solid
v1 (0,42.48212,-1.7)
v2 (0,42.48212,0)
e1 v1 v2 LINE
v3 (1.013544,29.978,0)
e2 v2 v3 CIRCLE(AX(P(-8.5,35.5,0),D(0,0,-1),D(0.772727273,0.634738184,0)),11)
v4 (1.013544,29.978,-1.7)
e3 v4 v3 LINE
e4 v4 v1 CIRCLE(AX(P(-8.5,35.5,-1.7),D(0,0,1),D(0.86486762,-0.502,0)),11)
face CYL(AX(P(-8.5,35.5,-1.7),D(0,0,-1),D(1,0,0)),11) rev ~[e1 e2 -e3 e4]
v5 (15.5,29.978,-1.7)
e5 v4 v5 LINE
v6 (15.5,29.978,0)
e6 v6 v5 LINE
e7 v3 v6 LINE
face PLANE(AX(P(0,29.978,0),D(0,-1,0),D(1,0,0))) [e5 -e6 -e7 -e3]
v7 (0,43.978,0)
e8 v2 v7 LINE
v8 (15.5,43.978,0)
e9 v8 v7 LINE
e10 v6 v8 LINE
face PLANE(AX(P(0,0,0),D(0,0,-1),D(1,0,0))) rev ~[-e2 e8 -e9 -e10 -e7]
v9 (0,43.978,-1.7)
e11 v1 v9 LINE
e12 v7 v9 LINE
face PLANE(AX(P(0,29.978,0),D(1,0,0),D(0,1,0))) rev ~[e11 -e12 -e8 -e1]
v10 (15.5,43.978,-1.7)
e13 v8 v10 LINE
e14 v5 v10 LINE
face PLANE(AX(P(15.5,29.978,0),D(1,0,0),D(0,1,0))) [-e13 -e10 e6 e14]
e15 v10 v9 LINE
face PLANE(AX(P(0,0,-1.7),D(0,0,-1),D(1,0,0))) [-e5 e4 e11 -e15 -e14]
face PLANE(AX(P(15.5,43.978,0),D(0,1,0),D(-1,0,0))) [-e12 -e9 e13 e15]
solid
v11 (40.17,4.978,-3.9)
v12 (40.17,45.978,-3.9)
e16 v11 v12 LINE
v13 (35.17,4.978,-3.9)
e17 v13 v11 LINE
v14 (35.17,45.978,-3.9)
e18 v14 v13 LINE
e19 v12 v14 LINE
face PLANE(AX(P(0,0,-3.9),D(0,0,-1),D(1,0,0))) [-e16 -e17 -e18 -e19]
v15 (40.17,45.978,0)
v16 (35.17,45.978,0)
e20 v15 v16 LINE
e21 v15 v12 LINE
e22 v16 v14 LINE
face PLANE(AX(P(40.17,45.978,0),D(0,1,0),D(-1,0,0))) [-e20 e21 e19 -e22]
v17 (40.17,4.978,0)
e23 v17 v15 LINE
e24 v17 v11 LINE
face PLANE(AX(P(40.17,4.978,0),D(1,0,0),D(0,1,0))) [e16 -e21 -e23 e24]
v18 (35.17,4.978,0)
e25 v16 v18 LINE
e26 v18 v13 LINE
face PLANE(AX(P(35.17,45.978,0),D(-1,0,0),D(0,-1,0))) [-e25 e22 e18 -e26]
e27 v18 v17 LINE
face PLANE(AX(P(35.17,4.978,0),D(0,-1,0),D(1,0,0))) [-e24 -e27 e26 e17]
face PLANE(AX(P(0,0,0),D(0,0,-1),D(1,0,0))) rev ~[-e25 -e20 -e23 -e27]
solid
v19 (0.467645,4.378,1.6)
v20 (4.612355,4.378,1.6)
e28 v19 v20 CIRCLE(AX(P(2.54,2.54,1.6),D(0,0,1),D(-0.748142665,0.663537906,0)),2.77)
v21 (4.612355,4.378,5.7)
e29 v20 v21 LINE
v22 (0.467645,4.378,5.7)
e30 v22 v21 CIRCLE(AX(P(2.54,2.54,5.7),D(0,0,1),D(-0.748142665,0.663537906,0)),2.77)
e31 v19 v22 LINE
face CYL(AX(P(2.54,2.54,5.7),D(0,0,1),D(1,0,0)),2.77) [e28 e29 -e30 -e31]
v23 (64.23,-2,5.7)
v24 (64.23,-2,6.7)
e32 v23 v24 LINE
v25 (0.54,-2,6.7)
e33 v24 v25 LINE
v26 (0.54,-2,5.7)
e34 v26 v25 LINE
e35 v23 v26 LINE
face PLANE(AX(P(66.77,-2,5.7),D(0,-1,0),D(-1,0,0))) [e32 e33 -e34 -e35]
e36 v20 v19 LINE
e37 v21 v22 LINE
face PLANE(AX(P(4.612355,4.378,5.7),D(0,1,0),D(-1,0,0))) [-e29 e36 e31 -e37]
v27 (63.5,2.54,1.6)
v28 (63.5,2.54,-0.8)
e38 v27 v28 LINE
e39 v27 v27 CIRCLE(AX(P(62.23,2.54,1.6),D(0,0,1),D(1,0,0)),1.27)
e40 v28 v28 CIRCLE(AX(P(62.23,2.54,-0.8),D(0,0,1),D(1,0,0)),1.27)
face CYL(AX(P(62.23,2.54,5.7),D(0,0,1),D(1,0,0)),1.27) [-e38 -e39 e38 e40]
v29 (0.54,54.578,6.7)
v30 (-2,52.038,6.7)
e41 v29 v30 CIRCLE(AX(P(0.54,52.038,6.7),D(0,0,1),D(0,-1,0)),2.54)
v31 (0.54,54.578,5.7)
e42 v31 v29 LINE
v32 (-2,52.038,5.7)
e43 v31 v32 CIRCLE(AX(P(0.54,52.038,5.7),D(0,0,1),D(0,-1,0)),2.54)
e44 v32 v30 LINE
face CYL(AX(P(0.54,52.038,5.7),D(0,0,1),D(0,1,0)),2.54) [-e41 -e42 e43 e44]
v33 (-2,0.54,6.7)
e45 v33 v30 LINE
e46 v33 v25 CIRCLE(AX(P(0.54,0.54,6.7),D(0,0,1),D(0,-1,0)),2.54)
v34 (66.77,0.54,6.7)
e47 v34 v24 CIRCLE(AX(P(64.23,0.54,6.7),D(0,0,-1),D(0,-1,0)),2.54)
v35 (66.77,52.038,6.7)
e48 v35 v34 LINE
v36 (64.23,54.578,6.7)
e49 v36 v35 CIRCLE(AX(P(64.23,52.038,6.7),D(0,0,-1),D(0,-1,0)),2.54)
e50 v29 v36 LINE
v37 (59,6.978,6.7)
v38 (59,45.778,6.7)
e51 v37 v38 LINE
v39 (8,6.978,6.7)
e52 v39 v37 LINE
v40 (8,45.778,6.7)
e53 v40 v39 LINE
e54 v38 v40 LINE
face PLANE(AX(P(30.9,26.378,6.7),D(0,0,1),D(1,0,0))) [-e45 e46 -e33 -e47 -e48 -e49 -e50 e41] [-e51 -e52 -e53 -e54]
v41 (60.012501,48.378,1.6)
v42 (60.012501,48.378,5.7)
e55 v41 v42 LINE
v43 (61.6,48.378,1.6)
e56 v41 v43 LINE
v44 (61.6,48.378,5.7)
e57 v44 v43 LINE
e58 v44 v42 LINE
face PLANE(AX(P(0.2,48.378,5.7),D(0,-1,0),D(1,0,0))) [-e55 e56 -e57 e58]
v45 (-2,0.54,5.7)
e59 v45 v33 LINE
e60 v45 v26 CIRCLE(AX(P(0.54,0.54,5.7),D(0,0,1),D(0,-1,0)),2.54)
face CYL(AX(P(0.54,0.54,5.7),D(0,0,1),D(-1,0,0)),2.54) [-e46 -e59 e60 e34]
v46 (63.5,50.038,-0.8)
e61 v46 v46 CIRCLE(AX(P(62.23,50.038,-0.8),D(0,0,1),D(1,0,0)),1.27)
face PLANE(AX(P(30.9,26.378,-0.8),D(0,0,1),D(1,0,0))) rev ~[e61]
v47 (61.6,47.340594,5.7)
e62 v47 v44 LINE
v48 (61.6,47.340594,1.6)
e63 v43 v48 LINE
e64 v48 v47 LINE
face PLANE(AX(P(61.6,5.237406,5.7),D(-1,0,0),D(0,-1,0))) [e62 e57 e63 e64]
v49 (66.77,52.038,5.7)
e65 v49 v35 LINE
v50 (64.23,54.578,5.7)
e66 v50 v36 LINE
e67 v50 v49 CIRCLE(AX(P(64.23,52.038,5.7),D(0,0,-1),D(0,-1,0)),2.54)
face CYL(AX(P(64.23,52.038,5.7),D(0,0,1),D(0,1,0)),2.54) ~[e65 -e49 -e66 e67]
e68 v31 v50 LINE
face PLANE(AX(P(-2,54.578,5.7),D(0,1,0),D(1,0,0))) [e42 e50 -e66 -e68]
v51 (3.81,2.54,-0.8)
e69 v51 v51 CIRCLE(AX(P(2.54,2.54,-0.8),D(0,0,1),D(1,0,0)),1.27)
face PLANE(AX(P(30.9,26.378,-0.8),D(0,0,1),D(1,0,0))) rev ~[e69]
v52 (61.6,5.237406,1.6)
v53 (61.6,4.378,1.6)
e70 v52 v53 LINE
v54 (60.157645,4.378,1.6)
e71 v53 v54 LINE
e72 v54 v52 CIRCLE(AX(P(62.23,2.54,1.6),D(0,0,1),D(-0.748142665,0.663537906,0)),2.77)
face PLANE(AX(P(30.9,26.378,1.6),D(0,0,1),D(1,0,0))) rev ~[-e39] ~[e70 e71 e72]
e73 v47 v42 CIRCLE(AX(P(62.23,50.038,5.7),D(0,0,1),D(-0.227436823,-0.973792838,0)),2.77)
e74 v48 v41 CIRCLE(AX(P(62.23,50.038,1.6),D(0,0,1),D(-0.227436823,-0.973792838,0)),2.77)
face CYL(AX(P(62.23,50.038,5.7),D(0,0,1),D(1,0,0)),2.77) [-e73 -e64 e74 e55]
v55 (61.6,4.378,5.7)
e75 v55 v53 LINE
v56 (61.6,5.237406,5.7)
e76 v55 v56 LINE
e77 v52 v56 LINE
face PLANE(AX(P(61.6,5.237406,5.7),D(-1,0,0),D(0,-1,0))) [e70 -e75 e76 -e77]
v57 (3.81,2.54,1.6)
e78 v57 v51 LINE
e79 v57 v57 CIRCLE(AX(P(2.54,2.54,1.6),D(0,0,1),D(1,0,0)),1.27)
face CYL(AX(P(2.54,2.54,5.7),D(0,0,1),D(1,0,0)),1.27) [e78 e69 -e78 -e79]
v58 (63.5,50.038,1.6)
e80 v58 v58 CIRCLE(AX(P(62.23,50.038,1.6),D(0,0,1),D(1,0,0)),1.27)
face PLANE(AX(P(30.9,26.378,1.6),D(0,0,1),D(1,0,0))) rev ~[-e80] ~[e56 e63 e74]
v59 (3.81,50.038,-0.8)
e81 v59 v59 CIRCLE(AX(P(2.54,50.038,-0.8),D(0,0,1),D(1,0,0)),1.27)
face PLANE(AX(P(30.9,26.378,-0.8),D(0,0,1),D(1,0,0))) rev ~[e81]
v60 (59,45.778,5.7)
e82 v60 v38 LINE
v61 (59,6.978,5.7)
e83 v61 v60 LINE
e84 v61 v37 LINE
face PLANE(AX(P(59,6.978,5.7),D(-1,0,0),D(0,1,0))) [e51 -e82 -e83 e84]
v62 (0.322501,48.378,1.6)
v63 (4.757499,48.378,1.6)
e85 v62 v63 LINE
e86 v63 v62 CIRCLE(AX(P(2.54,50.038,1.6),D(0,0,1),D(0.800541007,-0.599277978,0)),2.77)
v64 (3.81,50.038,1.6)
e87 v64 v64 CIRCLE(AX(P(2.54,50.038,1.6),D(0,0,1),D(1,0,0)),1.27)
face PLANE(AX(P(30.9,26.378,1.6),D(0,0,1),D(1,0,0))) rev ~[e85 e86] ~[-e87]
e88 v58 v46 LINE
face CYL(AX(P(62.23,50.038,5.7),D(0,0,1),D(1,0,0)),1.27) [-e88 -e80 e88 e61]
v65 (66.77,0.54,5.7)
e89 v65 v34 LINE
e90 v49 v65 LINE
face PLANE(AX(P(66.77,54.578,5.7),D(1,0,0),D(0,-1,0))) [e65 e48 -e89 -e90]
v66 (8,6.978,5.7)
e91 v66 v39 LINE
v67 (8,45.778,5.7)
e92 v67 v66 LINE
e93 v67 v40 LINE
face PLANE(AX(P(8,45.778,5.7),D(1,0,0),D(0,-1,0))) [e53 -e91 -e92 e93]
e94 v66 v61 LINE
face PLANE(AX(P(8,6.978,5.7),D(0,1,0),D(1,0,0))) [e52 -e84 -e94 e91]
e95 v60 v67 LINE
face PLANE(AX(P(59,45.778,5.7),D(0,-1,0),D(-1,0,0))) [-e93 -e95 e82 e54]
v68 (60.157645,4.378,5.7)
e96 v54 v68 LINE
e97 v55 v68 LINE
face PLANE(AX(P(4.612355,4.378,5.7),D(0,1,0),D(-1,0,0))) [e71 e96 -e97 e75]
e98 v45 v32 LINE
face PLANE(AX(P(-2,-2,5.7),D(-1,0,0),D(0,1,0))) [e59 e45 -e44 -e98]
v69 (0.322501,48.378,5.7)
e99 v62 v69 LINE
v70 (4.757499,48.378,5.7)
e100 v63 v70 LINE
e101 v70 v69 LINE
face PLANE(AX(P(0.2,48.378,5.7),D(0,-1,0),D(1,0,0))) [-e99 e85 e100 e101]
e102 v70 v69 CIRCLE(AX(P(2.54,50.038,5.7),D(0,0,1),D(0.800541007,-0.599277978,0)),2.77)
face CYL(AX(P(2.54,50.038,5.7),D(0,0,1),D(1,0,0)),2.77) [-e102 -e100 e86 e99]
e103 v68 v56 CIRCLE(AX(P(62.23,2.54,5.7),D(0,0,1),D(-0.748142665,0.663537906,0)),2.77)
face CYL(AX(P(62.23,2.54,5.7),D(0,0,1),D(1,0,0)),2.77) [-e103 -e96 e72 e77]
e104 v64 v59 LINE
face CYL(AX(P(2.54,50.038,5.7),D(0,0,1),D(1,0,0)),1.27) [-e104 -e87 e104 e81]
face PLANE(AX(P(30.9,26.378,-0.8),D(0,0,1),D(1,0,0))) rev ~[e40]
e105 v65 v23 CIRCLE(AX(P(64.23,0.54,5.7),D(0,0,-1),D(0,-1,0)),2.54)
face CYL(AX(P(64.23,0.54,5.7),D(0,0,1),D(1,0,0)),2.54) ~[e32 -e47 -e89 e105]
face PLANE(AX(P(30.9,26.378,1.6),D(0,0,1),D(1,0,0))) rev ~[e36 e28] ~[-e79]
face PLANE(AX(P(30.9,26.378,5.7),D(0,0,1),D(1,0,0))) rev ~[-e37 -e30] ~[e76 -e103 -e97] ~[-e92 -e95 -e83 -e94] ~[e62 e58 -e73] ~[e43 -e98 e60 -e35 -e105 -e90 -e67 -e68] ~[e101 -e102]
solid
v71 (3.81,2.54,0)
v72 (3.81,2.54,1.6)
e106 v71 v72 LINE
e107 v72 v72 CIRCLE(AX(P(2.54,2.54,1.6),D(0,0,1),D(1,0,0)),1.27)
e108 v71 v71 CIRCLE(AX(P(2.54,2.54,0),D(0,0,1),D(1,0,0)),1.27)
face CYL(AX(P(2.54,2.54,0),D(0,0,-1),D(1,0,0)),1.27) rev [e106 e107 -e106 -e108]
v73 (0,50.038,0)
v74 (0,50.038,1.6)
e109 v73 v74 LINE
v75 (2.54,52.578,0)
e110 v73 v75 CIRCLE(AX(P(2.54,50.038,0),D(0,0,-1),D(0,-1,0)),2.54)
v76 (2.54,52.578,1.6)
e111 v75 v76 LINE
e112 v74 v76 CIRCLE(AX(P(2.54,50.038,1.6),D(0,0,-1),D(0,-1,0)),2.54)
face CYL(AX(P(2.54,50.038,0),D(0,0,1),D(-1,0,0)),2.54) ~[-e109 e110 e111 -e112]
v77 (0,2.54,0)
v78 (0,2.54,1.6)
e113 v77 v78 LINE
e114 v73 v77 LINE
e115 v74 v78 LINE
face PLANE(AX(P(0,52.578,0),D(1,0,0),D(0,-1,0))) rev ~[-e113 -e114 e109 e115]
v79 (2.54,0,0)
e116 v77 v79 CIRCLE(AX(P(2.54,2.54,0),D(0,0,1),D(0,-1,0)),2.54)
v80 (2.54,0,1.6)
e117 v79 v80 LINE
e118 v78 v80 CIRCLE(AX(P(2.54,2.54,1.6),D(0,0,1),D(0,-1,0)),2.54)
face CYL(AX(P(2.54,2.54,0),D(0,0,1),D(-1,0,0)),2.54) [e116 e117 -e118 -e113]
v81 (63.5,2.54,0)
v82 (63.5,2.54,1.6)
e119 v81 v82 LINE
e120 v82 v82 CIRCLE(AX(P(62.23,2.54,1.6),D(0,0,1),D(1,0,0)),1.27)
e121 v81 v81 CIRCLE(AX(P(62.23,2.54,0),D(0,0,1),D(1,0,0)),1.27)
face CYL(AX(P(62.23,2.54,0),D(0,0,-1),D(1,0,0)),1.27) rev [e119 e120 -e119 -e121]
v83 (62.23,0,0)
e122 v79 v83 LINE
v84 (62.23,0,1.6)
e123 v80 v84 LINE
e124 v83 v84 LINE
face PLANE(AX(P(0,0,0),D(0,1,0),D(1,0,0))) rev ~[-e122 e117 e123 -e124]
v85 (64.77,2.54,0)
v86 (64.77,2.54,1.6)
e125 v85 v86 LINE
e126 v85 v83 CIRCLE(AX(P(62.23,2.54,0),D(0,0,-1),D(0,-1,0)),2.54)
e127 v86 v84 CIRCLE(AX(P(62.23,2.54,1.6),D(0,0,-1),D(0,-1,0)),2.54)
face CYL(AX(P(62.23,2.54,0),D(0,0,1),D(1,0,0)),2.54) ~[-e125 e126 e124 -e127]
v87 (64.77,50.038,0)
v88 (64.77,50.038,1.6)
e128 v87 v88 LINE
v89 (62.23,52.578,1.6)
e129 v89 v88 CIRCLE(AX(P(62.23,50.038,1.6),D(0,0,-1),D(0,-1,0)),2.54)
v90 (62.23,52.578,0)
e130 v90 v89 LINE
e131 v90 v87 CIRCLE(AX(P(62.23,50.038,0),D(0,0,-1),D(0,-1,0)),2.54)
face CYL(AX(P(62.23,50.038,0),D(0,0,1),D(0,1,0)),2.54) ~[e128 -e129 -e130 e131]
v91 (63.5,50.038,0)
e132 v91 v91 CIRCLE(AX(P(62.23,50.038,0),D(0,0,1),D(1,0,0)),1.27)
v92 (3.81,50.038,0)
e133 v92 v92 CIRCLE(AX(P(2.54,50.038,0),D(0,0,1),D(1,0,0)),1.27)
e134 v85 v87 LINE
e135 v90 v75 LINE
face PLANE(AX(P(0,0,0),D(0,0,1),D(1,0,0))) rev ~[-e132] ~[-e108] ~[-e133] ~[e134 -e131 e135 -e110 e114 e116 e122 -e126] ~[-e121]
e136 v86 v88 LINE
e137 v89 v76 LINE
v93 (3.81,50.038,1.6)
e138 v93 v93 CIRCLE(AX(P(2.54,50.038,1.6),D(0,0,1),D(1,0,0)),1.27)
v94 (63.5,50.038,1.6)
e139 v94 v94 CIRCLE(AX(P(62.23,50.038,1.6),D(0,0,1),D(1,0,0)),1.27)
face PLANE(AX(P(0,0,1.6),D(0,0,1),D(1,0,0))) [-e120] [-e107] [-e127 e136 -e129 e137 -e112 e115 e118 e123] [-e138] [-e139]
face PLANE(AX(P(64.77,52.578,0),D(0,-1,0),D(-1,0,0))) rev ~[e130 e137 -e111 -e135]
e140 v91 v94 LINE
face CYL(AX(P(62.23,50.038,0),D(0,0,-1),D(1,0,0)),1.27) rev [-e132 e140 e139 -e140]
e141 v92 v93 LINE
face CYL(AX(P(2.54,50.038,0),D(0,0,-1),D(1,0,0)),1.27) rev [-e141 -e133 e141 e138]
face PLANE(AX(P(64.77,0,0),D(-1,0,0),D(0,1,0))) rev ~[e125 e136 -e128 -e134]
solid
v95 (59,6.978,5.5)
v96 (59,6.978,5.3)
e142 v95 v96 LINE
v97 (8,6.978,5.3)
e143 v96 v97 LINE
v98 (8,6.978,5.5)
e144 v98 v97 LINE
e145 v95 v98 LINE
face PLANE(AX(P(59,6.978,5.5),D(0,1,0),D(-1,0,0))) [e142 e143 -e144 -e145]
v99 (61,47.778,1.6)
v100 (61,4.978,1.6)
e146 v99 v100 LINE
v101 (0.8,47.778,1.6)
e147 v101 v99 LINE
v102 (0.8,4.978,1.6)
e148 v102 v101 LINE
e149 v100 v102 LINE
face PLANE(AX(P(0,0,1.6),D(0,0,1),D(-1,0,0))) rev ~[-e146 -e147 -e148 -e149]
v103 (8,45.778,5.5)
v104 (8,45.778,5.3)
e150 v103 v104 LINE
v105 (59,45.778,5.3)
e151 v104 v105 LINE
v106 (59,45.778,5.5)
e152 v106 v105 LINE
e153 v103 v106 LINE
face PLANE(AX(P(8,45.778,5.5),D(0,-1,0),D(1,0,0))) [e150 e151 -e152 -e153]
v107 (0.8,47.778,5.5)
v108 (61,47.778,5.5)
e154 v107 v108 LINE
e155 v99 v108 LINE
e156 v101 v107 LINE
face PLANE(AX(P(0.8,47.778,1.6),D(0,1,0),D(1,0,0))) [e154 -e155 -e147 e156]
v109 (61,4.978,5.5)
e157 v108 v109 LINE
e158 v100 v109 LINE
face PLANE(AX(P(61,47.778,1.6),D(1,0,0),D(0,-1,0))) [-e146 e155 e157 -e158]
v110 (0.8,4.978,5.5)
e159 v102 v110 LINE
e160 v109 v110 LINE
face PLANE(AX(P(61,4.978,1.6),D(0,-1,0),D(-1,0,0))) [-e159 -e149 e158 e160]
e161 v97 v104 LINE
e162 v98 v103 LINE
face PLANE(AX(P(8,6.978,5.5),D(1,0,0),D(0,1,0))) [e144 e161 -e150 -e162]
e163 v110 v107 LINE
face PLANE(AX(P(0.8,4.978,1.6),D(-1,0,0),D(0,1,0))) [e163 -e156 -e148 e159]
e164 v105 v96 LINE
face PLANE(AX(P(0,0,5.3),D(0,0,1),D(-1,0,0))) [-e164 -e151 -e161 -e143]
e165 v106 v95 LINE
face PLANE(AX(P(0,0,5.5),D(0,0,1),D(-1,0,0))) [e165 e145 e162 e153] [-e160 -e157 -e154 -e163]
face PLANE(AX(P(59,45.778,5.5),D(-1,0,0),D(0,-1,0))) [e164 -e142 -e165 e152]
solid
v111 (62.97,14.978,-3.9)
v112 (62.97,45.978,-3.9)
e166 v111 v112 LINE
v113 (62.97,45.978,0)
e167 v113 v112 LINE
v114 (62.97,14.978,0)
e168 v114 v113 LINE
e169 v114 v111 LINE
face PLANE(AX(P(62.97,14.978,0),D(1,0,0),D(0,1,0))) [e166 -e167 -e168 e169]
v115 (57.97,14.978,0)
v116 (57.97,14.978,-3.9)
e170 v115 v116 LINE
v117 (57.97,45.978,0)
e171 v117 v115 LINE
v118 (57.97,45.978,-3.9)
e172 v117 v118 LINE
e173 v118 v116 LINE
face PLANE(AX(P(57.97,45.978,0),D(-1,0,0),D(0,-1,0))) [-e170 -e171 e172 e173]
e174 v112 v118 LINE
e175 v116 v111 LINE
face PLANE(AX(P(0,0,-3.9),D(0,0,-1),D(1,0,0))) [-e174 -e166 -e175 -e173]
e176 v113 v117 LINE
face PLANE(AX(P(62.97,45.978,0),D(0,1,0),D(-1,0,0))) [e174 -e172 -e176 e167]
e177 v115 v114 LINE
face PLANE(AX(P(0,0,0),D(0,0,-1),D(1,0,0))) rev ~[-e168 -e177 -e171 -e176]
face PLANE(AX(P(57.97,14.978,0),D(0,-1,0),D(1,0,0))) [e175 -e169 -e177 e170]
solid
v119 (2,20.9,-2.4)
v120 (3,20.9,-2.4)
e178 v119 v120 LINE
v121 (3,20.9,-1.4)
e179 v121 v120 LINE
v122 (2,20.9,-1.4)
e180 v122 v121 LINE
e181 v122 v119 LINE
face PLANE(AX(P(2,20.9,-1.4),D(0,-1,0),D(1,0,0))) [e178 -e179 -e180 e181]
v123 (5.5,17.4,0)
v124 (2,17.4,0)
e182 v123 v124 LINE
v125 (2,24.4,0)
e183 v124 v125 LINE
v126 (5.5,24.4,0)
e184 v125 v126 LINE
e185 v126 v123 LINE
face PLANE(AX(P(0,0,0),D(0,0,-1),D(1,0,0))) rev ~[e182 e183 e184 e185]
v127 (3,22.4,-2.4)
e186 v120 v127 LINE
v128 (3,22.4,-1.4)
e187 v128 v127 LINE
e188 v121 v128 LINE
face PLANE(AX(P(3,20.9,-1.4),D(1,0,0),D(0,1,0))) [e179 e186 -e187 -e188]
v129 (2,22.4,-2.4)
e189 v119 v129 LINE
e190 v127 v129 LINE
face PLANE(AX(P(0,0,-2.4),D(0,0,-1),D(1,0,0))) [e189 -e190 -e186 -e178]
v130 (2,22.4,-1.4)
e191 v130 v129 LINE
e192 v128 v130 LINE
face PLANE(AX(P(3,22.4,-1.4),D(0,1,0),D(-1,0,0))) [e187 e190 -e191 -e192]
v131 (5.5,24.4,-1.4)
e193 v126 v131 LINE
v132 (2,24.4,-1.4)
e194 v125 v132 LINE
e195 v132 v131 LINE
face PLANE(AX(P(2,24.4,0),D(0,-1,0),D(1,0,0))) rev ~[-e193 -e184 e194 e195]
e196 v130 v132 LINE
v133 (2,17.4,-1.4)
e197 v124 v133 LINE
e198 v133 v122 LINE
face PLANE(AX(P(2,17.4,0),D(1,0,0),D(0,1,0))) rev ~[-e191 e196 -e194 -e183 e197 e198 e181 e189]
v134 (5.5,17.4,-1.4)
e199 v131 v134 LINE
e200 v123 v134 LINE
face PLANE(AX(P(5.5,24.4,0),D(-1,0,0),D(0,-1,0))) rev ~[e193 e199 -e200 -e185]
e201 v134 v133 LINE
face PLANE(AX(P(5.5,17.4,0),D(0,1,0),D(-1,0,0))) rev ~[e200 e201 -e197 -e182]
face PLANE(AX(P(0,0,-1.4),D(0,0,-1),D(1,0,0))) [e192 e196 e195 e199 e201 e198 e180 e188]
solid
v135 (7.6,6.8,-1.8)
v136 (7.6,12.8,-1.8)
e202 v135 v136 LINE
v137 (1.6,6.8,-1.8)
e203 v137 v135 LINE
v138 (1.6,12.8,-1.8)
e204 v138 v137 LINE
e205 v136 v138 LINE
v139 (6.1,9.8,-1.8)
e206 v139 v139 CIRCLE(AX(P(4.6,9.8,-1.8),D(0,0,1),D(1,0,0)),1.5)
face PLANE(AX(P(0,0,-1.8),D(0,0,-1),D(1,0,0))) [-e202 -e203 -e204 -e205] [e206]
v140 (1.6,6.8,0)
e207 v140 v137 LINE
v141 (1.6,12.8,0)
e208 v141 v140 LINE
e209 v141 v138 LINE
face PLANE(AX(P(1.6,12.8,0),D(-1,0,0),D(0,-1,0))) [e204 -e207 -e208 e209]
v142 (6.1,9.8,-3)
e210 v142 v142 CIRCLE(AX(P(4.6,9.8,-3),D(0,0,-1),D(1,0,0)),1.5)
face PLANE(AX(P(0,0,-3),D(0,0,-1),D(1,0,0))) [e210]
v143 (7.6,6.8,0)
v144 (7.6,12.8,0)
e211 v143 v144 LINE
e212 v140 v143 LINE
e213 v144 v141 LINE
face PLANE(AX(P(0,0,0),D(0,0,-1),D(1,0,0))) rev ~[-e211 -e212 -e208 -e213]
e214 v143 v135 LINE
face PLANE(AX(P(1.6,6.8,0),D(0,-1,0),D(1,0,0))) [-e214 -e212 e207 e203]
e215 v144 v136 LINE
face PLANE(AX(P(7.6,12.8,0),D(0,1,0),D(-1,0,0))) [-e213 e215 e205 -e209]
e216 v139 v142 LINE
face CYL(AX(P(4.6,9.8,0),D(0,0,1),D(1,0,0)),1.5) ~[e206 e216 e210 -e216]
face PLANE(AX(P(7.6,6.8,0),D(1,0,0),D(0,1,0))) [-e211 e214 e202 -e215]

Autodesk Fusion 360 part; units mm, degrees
sketch "pcb" plane through (0, 0, 0) normal (0, 0, 1) x (1, 0, 0)
  line L0 (0, 0) -> (64.77, 0)
  line L1 (64.77, 0) -> (64.77, 52.578)
  line L2 (64.77, 52.578) -> (0, 52.578)
  line L3 (0, 52.578) -> (0, 0)
  circle A0 centre (2.54, 50.038) radius 1.27
  line L4 (32.385, 52.578) -> (32.385, 0) construction
  line L5 (0, 26.289) -> (64.77, 26.289) construction
  circle A1 centre (62.23, 50.038) radius 1.27
  circle A2 centre (2.54, 2.54) radius 1.27
  circle A3 centre (62.23, 2.54) radius 1.27
  dimension "d1" = 64.77
  dimension "d2" = 52.578
  dimension "d3" = 2.54
  dimension "d4" = 2.54
  dimension "d5" = 2.54
extrude "Extrude1" add sketch "pcb" along normal blind 1.6 makes body 1
fillet "Fillet1" radius 2.54 4 edges at (64.77, 0, 0.8) (0, 0, 0.8) (0, 52.578, 0.8) (64.77, 52.578, 0.8) on bodies 1
sketch "bottom" plane through (0, 0, 0) normal (0, 0, -1) x (1, 0, 0)
  circle A0 centre (62.23, -50.038) radius 1.27
  circle A1 centre (2.54, -2.54) radius 1.27
  circle A2 centre (62.23, -2.54) radius 1.27
  circle A3 centre (2.54, -50.038) radius 1.27
  arc A4 (62.23, -52.578) -> (64.77, -50.038) centre (62.23, -50.038) ccw
  line L0 (64.77, -50.038) -> (64.77, -2.54)
  arc A5 (64.77, -2.54) -> (62.23, 0) centre (62.23, -2.54) ccw
  line L1 (62.23, 0) -> (2.54, 0)
  arc A6 (2.54, 0) -> (0, -2.54) centre (2.54, -2.54) ccw
  line L2 (0, -2.54) -> (0, -50.038)
  arc A7 (0, -50.038) -> (2.54, -52.578) centre (2.54, -50.038) ccw
  line L3 (2.54, -52.578) -> (62.23, -52.578)
  line L4 (62.97, -45.978) -> (57.97, -45.978)
  line L5 (57.97, -45.978) -> (57.97, -14.978)
  line L6 (57.97, -14.978) -> (62.97, -14.978)
  line L7 (62.97, -14.978) -> (62.97, -45.978)
  line L8 (40.17, -45.978) -> (35.17, -45.978)
  line L9 (35.17, -45.978) -> (35.17, -4.978)
  line L10 (35.17, -4.978) -> (40.17, -4.978)
  line L11 (40.17, -4.978) -> (40.17, -45.978)
  line L12 (1.6, -6.8) -> (7.6, -6.8)
  line L13 (7.6, -6.8) -> (7.6, -12.8)
  line L14 (7.6, -12.8) -> (1.6, -12.8)
  line L15 (1.6, -12.8) -> (1.6, -6.8)
  line L16 (1.6, -6.8) -> (7.6, -12.8) construction
  line L17 (7.6, -6.8) -> (1.6, -12.8) construction
  circle A8 centre (4.6, -9.8) radius 1.5
  line L18 (5.5, -17.4) -> (2, -17.4)
  line L19 (2, -17.4) -> (2, -24.4)
  line L20 (2, -24.4) -> (5.5, -24.4)
  line L21 (5.5, -24.4) -> (5.5, -17.4)
  line L22 (15.5, -43.978) -> (0, -43.978)
  line L23 (0, -43.978) -> (0, -29.978)
  line L24 (0, -29.978) -> (15.5, -29.978)
  line L25 (15.5, -29.978) -> (15.5, -43.978)
  point P0 (4.6, -9.8)
  dimension "d9" = 5
  dimension "d10" = 5
  dimension "d11" = 31
  dimension "d12" = 41
  dimension "d13" = 6.6
  dimension "d14" = 6.6
  dimension "d15" = 1.8
  dimension "d16" = 17.8
  dimension "d19" = 6
  dimension "d20" = 6
  dimension "d21" = 6.8
  dimension "d22" = 1.6
  dimension "d23" = 3
  dimension "d28" = 3.5
  dimension "d29" = 7
  dimension "d30" = 2
  dimension "d31" = 17.4
  dimension "d32" = 15.5
  dimension "d33" = 14
  dimension "d34" = 8.6
extrude "Extrude2" add sketch "bottom" along normal blind 3.9 separate body contours L4 L5 L6 L7 | L8 L9 L10 L11 makes body 2 at (61.3033, 25.3113, 0) makes body 3 at (38.5033, 32.3113, 0)
extrude "Extrude3" add sketch "bottom" along normal blind 1.8 separate body contours L12 L13 L14 L15 | A8 makes body 4
extrude "Extrude4" add sketch "bottom" along normal blind 3 contours A8 bodies 4
extrude "Extrude5" add sketch "bottom" along normal blind 1.4 separate body contours L18 L19 L20 L21 makes body 5
extrude "Extrude6" add sketch "bottom" along normal blind 1.7 separate body contours L2 L22 L23 L24 L25 makes body 6
sketch "microSD" plane through (0, 0, -1.7) normal (0, 0, -1) x (1, 0, 0)
  line L0 (15.5, -29.978) -> (0, -29.978)
  line L1 (0, -29.978) -> (0, -43.978)
  line L2 (0, -43.978) -> (15.5, -43.978)
  line L3 (15.5, -43.978) -> (15.5, -29.978)
  circle A0 centre (-8.5, -35.5) radius 11
  dimension "d39" = 22
extrude "Extrude7" cut sketch "microSD" against normal blind 1.7 contours L0 L1 A0 picked at (0.2923, -37.9037) bodies 6
sketch "switch" plane through (0, 0, -1.4) normal (0, 0, -1) x (1, 0, 0)
  line L0 (5.5, -24.4) -> (5.5, -17.4)
  line L1 (5.5, -17.4) -> (2, -17.4)
  line L2 (2, -17.4) -> (2, -24.4)
  line L3 (2, -24.4) -> (5.5, -24.4)
  line L4 (2, -20.9) -> (5.5, -20.9)
  line L5 (2, -19.4) -> (3, -19.4)
  line L6 (3, -19.4) -> (3, -22.4)
  line L7 (3, -22.4) -> (2, -22.4)
  line L8 (2, -22.4) -> (2, -19.4)
  line L9 (3, -20.9) -> (2, -20.9) construction
  dimension "d42" = 3
  dimension "d43" = 1
extrude "Extrude8" add sketch "switch" along normal blind 1 contours L2 L4 L6 L7 L8 bodies 5
sketch "display" plane through (0, 0, 1.6) normal (0, 0, 1) x (-1, 0, 0)
  arc A0 (-64.77, -50.038) -> (-62.23, -52.578) centre (-62.23, -50.038) ccw
  line L0 (-62.23, -52.578) -> (-2.54, -52.578)
  arc A1 (-2.54, -52.578) -> (0, -50.038) centre (-2.54, -50.038) ccw
  line L1 (0, -50.038) -> (0, -2.54)
  arc A2 (0, -2.54) -> (-2.54, 0) centre (-2.54, -2.54) ccw
  line L2 (-2.54, 0) -> (-62.23, 0)
  arc A3 (-62.23, 0) -> (-64.77, -2.54) centre (-62.23, -2.54) ccw
  line L3 (-64.77, -2.54) -> (-64.77, -50.038)
  circle A4 centre (-62.23, -50.038) radius 1.27
  circle A5 centre (-2.54, -2.54) radius 1.27
  circle A6 centre (-62.23, -2.54) radius 1.27
  circle A7 centre (-2.54, -50.038) radius 1.27
  line L4 (-0.8, -47.778) -> (-61, -47.778)
  line L5 (-61, -47.778) -> (-61, -4.978)
  line L6 (-61, -4.978) -> (-0.8, -4.978)
  line L7 (-0.8, -4.978) -> (-0.8, -47.778)
  dimension "d46" = 60.2
  dimension "d47" = 42.8
  dimension "d48" = 4.8
  dimension "d49" = 0.8
extrude "Extrude9" add sketch "display" along normal blind 3.9 separate body contours L4 L5 L6 L7 makes body 7
sketch "view" plane through (0, 0, 5.5) normal (0, 0, 1) x (-1, 0, 0)
  line L0 (-0.8, -4.978) -> (-61, -4.978)
  line L1 (-61, -4.978) -> (-61, -47.778)
  line L2 (-61, -47.778) -> (-0.8, -47.778)
  line L3 (-0.8, -47.778) -> (-0.8, -4.978)
  line L4 (-8, -45.778) -> (-59, -45.778)
  line L5 (-59, -45.778) -> (-59, -6.978)
  line L6 (-59, -6.978) -> (-8, -6.978)
  line L7 (-8, -6.978) -> (-8, -45.778)
  dimension "d52" = 2
  dimension "d53" = 2
  dimension "d54" = 2
  dimension "d55" = 7.2
extrude "Extrude10" cut sketch "view" against normal blind 0.2 contours L4 L5 L6 L7 bodies 7
ref_plane "WorkPlane1" through (30.9, 26.378, 5.7) normal (0, 0, 1) x (1, 0, 0) in component "mount"
sketch "Sketch1" plane through (30.9, 26.378, 5.7) normal (0, 0, 1) x (1, 0, 0) in component "mount"
  line L0 (-32.9, 28.2) -> (35.87, 28.2)
  line L1 (35.87, 28.2) -> (35.87, -28.378)
  line L2 (35.87, -28.378) -> (-32.9, -28.378)
  line L3 (-32.9, -28.378) -> (-32.9, 28.2)
  line L4 (31.33, 26.2) -> (-28.36, 26.2) construction
  line L5 (33.87, -23.838) -> (33.87, 23.66) construction
  line L6 (-30.9, 23.66) -> (-30.9, -23.838) construction
  line L7 (-28.36, -26.378) -> (31.33, -26.378) construction
  line L8 (-22.9, -19.4) -> (28.1, -19.4)
  line L9 (28.1, -19.4) -> (28.1, 19.4)
  line L10 (28.1, 19.4) -> (-22.9, 19.4)
  line L11 (-22.9, 19.4) -> (-22.9, -19.4)
  circle A0 centre (-28.36, -23.838) radius 1.27
  circle A1 centre (31.33, -23.838) radius 1.27
  circle A2 centre (31.33, 23.66) radius 1.27
  circle A3 centre (-28.36, 23.66) radius 1.27
  line L12 (30.1, -21.4) -> (-30.1, -21.4) construction
  line L13 (-30.1, -21.4) -> (-30.1, 21.4) construction
  line L14 (-30.1, 21.4) -> (30.1, 21.4) construction
  line L15 (30.1, 21.4) -> (30.1, -21.4) construction
  circle A4 centre (-28.36, -23.838) radius 2.77
  circle A5 centre (31.33, 23.66) radius 2.77
  circle A6 centre (-28.36, 23.66) radius 2.77
  line L16 (-30.7, -22) -> (-30.7, 22)
  line L17 (-30.7, 22) -> (30.7, 22)
  line L18 (30.7, 22) -> (30.7, -22)
  line L19 (30.7, -22) -> (-30.7, -22)
  circle A7 centre (31.33, -23.838) radius 2.77
  point P0 (30.06, -23.838)
  dimension "d59" = 2
  dimension "d60" = 2
  dimension "d61" = 2
  dimension "d62" = 2
  dimension "d65" = 1.5
  dimension "d66" = 1.5
  dimension "d67" = 1.5
  dimension "d68" = 1.5
  dimension "d74" = 0.6
extrude "Extrude1'" add sketch "Sketch1" along normal blind 1 separate body contours L0 L1 L2 L3 | A0 | A1 | A2 | A3 | A4 L19 | A4 L19 | A4 A5 A6 L16 L17 L18 L19 A7 | L18 L19 A7 | L18 L19 A7 | A5 L17 L18 | A5 L17 L18 | A6 L17 | A6 L17 makes body 8 in component "mount"
extrude "Extrude2'" add sketch "Sketch1" against normal up to surface (4.1 mm away) contours A0 | A1 | A2 | A3 | A4 L19 | A4 L19 | L18 L19 A7 | L18 L19 A7 | A5 L17 L18 | A5 L17 L18 | A6 L17 | A6 L17 bodies 8 in component "mount"
extrude "Extrude3'" add sketch "Sketch1" against normal blind 6.5 contours A0 | A1 | A2 | A3 bodies 8 in component "mount"
fillet "Fillet1'" radius 2.54 4 edges at (-2, -2, 6.2) (66.77, -2, 6.2) (-2, 54.578, 6.2) (66.77, 54.578, 6.2) on bodies 8 in component "mount"
extrude "Extrude4'" cut sketch "Sketch1" against normal blind 5 contours A4 L19 | A4 A5 A6 L16 L17 L18 L19 A7 | L18 L19 A7 | A5 L17 L18 | A6 L17 picked at (-28.2304, -21.6985) picked at (30.5911, -21.4597) picked at (30.5768, 21.3464) picked at (-27.9175, 21.7429) bodies 8 in component "mount"
component "mount" placed x (1, 0, 0) y (0, 1, 0) z (0, 0, 1) at (0, 0, 0)
